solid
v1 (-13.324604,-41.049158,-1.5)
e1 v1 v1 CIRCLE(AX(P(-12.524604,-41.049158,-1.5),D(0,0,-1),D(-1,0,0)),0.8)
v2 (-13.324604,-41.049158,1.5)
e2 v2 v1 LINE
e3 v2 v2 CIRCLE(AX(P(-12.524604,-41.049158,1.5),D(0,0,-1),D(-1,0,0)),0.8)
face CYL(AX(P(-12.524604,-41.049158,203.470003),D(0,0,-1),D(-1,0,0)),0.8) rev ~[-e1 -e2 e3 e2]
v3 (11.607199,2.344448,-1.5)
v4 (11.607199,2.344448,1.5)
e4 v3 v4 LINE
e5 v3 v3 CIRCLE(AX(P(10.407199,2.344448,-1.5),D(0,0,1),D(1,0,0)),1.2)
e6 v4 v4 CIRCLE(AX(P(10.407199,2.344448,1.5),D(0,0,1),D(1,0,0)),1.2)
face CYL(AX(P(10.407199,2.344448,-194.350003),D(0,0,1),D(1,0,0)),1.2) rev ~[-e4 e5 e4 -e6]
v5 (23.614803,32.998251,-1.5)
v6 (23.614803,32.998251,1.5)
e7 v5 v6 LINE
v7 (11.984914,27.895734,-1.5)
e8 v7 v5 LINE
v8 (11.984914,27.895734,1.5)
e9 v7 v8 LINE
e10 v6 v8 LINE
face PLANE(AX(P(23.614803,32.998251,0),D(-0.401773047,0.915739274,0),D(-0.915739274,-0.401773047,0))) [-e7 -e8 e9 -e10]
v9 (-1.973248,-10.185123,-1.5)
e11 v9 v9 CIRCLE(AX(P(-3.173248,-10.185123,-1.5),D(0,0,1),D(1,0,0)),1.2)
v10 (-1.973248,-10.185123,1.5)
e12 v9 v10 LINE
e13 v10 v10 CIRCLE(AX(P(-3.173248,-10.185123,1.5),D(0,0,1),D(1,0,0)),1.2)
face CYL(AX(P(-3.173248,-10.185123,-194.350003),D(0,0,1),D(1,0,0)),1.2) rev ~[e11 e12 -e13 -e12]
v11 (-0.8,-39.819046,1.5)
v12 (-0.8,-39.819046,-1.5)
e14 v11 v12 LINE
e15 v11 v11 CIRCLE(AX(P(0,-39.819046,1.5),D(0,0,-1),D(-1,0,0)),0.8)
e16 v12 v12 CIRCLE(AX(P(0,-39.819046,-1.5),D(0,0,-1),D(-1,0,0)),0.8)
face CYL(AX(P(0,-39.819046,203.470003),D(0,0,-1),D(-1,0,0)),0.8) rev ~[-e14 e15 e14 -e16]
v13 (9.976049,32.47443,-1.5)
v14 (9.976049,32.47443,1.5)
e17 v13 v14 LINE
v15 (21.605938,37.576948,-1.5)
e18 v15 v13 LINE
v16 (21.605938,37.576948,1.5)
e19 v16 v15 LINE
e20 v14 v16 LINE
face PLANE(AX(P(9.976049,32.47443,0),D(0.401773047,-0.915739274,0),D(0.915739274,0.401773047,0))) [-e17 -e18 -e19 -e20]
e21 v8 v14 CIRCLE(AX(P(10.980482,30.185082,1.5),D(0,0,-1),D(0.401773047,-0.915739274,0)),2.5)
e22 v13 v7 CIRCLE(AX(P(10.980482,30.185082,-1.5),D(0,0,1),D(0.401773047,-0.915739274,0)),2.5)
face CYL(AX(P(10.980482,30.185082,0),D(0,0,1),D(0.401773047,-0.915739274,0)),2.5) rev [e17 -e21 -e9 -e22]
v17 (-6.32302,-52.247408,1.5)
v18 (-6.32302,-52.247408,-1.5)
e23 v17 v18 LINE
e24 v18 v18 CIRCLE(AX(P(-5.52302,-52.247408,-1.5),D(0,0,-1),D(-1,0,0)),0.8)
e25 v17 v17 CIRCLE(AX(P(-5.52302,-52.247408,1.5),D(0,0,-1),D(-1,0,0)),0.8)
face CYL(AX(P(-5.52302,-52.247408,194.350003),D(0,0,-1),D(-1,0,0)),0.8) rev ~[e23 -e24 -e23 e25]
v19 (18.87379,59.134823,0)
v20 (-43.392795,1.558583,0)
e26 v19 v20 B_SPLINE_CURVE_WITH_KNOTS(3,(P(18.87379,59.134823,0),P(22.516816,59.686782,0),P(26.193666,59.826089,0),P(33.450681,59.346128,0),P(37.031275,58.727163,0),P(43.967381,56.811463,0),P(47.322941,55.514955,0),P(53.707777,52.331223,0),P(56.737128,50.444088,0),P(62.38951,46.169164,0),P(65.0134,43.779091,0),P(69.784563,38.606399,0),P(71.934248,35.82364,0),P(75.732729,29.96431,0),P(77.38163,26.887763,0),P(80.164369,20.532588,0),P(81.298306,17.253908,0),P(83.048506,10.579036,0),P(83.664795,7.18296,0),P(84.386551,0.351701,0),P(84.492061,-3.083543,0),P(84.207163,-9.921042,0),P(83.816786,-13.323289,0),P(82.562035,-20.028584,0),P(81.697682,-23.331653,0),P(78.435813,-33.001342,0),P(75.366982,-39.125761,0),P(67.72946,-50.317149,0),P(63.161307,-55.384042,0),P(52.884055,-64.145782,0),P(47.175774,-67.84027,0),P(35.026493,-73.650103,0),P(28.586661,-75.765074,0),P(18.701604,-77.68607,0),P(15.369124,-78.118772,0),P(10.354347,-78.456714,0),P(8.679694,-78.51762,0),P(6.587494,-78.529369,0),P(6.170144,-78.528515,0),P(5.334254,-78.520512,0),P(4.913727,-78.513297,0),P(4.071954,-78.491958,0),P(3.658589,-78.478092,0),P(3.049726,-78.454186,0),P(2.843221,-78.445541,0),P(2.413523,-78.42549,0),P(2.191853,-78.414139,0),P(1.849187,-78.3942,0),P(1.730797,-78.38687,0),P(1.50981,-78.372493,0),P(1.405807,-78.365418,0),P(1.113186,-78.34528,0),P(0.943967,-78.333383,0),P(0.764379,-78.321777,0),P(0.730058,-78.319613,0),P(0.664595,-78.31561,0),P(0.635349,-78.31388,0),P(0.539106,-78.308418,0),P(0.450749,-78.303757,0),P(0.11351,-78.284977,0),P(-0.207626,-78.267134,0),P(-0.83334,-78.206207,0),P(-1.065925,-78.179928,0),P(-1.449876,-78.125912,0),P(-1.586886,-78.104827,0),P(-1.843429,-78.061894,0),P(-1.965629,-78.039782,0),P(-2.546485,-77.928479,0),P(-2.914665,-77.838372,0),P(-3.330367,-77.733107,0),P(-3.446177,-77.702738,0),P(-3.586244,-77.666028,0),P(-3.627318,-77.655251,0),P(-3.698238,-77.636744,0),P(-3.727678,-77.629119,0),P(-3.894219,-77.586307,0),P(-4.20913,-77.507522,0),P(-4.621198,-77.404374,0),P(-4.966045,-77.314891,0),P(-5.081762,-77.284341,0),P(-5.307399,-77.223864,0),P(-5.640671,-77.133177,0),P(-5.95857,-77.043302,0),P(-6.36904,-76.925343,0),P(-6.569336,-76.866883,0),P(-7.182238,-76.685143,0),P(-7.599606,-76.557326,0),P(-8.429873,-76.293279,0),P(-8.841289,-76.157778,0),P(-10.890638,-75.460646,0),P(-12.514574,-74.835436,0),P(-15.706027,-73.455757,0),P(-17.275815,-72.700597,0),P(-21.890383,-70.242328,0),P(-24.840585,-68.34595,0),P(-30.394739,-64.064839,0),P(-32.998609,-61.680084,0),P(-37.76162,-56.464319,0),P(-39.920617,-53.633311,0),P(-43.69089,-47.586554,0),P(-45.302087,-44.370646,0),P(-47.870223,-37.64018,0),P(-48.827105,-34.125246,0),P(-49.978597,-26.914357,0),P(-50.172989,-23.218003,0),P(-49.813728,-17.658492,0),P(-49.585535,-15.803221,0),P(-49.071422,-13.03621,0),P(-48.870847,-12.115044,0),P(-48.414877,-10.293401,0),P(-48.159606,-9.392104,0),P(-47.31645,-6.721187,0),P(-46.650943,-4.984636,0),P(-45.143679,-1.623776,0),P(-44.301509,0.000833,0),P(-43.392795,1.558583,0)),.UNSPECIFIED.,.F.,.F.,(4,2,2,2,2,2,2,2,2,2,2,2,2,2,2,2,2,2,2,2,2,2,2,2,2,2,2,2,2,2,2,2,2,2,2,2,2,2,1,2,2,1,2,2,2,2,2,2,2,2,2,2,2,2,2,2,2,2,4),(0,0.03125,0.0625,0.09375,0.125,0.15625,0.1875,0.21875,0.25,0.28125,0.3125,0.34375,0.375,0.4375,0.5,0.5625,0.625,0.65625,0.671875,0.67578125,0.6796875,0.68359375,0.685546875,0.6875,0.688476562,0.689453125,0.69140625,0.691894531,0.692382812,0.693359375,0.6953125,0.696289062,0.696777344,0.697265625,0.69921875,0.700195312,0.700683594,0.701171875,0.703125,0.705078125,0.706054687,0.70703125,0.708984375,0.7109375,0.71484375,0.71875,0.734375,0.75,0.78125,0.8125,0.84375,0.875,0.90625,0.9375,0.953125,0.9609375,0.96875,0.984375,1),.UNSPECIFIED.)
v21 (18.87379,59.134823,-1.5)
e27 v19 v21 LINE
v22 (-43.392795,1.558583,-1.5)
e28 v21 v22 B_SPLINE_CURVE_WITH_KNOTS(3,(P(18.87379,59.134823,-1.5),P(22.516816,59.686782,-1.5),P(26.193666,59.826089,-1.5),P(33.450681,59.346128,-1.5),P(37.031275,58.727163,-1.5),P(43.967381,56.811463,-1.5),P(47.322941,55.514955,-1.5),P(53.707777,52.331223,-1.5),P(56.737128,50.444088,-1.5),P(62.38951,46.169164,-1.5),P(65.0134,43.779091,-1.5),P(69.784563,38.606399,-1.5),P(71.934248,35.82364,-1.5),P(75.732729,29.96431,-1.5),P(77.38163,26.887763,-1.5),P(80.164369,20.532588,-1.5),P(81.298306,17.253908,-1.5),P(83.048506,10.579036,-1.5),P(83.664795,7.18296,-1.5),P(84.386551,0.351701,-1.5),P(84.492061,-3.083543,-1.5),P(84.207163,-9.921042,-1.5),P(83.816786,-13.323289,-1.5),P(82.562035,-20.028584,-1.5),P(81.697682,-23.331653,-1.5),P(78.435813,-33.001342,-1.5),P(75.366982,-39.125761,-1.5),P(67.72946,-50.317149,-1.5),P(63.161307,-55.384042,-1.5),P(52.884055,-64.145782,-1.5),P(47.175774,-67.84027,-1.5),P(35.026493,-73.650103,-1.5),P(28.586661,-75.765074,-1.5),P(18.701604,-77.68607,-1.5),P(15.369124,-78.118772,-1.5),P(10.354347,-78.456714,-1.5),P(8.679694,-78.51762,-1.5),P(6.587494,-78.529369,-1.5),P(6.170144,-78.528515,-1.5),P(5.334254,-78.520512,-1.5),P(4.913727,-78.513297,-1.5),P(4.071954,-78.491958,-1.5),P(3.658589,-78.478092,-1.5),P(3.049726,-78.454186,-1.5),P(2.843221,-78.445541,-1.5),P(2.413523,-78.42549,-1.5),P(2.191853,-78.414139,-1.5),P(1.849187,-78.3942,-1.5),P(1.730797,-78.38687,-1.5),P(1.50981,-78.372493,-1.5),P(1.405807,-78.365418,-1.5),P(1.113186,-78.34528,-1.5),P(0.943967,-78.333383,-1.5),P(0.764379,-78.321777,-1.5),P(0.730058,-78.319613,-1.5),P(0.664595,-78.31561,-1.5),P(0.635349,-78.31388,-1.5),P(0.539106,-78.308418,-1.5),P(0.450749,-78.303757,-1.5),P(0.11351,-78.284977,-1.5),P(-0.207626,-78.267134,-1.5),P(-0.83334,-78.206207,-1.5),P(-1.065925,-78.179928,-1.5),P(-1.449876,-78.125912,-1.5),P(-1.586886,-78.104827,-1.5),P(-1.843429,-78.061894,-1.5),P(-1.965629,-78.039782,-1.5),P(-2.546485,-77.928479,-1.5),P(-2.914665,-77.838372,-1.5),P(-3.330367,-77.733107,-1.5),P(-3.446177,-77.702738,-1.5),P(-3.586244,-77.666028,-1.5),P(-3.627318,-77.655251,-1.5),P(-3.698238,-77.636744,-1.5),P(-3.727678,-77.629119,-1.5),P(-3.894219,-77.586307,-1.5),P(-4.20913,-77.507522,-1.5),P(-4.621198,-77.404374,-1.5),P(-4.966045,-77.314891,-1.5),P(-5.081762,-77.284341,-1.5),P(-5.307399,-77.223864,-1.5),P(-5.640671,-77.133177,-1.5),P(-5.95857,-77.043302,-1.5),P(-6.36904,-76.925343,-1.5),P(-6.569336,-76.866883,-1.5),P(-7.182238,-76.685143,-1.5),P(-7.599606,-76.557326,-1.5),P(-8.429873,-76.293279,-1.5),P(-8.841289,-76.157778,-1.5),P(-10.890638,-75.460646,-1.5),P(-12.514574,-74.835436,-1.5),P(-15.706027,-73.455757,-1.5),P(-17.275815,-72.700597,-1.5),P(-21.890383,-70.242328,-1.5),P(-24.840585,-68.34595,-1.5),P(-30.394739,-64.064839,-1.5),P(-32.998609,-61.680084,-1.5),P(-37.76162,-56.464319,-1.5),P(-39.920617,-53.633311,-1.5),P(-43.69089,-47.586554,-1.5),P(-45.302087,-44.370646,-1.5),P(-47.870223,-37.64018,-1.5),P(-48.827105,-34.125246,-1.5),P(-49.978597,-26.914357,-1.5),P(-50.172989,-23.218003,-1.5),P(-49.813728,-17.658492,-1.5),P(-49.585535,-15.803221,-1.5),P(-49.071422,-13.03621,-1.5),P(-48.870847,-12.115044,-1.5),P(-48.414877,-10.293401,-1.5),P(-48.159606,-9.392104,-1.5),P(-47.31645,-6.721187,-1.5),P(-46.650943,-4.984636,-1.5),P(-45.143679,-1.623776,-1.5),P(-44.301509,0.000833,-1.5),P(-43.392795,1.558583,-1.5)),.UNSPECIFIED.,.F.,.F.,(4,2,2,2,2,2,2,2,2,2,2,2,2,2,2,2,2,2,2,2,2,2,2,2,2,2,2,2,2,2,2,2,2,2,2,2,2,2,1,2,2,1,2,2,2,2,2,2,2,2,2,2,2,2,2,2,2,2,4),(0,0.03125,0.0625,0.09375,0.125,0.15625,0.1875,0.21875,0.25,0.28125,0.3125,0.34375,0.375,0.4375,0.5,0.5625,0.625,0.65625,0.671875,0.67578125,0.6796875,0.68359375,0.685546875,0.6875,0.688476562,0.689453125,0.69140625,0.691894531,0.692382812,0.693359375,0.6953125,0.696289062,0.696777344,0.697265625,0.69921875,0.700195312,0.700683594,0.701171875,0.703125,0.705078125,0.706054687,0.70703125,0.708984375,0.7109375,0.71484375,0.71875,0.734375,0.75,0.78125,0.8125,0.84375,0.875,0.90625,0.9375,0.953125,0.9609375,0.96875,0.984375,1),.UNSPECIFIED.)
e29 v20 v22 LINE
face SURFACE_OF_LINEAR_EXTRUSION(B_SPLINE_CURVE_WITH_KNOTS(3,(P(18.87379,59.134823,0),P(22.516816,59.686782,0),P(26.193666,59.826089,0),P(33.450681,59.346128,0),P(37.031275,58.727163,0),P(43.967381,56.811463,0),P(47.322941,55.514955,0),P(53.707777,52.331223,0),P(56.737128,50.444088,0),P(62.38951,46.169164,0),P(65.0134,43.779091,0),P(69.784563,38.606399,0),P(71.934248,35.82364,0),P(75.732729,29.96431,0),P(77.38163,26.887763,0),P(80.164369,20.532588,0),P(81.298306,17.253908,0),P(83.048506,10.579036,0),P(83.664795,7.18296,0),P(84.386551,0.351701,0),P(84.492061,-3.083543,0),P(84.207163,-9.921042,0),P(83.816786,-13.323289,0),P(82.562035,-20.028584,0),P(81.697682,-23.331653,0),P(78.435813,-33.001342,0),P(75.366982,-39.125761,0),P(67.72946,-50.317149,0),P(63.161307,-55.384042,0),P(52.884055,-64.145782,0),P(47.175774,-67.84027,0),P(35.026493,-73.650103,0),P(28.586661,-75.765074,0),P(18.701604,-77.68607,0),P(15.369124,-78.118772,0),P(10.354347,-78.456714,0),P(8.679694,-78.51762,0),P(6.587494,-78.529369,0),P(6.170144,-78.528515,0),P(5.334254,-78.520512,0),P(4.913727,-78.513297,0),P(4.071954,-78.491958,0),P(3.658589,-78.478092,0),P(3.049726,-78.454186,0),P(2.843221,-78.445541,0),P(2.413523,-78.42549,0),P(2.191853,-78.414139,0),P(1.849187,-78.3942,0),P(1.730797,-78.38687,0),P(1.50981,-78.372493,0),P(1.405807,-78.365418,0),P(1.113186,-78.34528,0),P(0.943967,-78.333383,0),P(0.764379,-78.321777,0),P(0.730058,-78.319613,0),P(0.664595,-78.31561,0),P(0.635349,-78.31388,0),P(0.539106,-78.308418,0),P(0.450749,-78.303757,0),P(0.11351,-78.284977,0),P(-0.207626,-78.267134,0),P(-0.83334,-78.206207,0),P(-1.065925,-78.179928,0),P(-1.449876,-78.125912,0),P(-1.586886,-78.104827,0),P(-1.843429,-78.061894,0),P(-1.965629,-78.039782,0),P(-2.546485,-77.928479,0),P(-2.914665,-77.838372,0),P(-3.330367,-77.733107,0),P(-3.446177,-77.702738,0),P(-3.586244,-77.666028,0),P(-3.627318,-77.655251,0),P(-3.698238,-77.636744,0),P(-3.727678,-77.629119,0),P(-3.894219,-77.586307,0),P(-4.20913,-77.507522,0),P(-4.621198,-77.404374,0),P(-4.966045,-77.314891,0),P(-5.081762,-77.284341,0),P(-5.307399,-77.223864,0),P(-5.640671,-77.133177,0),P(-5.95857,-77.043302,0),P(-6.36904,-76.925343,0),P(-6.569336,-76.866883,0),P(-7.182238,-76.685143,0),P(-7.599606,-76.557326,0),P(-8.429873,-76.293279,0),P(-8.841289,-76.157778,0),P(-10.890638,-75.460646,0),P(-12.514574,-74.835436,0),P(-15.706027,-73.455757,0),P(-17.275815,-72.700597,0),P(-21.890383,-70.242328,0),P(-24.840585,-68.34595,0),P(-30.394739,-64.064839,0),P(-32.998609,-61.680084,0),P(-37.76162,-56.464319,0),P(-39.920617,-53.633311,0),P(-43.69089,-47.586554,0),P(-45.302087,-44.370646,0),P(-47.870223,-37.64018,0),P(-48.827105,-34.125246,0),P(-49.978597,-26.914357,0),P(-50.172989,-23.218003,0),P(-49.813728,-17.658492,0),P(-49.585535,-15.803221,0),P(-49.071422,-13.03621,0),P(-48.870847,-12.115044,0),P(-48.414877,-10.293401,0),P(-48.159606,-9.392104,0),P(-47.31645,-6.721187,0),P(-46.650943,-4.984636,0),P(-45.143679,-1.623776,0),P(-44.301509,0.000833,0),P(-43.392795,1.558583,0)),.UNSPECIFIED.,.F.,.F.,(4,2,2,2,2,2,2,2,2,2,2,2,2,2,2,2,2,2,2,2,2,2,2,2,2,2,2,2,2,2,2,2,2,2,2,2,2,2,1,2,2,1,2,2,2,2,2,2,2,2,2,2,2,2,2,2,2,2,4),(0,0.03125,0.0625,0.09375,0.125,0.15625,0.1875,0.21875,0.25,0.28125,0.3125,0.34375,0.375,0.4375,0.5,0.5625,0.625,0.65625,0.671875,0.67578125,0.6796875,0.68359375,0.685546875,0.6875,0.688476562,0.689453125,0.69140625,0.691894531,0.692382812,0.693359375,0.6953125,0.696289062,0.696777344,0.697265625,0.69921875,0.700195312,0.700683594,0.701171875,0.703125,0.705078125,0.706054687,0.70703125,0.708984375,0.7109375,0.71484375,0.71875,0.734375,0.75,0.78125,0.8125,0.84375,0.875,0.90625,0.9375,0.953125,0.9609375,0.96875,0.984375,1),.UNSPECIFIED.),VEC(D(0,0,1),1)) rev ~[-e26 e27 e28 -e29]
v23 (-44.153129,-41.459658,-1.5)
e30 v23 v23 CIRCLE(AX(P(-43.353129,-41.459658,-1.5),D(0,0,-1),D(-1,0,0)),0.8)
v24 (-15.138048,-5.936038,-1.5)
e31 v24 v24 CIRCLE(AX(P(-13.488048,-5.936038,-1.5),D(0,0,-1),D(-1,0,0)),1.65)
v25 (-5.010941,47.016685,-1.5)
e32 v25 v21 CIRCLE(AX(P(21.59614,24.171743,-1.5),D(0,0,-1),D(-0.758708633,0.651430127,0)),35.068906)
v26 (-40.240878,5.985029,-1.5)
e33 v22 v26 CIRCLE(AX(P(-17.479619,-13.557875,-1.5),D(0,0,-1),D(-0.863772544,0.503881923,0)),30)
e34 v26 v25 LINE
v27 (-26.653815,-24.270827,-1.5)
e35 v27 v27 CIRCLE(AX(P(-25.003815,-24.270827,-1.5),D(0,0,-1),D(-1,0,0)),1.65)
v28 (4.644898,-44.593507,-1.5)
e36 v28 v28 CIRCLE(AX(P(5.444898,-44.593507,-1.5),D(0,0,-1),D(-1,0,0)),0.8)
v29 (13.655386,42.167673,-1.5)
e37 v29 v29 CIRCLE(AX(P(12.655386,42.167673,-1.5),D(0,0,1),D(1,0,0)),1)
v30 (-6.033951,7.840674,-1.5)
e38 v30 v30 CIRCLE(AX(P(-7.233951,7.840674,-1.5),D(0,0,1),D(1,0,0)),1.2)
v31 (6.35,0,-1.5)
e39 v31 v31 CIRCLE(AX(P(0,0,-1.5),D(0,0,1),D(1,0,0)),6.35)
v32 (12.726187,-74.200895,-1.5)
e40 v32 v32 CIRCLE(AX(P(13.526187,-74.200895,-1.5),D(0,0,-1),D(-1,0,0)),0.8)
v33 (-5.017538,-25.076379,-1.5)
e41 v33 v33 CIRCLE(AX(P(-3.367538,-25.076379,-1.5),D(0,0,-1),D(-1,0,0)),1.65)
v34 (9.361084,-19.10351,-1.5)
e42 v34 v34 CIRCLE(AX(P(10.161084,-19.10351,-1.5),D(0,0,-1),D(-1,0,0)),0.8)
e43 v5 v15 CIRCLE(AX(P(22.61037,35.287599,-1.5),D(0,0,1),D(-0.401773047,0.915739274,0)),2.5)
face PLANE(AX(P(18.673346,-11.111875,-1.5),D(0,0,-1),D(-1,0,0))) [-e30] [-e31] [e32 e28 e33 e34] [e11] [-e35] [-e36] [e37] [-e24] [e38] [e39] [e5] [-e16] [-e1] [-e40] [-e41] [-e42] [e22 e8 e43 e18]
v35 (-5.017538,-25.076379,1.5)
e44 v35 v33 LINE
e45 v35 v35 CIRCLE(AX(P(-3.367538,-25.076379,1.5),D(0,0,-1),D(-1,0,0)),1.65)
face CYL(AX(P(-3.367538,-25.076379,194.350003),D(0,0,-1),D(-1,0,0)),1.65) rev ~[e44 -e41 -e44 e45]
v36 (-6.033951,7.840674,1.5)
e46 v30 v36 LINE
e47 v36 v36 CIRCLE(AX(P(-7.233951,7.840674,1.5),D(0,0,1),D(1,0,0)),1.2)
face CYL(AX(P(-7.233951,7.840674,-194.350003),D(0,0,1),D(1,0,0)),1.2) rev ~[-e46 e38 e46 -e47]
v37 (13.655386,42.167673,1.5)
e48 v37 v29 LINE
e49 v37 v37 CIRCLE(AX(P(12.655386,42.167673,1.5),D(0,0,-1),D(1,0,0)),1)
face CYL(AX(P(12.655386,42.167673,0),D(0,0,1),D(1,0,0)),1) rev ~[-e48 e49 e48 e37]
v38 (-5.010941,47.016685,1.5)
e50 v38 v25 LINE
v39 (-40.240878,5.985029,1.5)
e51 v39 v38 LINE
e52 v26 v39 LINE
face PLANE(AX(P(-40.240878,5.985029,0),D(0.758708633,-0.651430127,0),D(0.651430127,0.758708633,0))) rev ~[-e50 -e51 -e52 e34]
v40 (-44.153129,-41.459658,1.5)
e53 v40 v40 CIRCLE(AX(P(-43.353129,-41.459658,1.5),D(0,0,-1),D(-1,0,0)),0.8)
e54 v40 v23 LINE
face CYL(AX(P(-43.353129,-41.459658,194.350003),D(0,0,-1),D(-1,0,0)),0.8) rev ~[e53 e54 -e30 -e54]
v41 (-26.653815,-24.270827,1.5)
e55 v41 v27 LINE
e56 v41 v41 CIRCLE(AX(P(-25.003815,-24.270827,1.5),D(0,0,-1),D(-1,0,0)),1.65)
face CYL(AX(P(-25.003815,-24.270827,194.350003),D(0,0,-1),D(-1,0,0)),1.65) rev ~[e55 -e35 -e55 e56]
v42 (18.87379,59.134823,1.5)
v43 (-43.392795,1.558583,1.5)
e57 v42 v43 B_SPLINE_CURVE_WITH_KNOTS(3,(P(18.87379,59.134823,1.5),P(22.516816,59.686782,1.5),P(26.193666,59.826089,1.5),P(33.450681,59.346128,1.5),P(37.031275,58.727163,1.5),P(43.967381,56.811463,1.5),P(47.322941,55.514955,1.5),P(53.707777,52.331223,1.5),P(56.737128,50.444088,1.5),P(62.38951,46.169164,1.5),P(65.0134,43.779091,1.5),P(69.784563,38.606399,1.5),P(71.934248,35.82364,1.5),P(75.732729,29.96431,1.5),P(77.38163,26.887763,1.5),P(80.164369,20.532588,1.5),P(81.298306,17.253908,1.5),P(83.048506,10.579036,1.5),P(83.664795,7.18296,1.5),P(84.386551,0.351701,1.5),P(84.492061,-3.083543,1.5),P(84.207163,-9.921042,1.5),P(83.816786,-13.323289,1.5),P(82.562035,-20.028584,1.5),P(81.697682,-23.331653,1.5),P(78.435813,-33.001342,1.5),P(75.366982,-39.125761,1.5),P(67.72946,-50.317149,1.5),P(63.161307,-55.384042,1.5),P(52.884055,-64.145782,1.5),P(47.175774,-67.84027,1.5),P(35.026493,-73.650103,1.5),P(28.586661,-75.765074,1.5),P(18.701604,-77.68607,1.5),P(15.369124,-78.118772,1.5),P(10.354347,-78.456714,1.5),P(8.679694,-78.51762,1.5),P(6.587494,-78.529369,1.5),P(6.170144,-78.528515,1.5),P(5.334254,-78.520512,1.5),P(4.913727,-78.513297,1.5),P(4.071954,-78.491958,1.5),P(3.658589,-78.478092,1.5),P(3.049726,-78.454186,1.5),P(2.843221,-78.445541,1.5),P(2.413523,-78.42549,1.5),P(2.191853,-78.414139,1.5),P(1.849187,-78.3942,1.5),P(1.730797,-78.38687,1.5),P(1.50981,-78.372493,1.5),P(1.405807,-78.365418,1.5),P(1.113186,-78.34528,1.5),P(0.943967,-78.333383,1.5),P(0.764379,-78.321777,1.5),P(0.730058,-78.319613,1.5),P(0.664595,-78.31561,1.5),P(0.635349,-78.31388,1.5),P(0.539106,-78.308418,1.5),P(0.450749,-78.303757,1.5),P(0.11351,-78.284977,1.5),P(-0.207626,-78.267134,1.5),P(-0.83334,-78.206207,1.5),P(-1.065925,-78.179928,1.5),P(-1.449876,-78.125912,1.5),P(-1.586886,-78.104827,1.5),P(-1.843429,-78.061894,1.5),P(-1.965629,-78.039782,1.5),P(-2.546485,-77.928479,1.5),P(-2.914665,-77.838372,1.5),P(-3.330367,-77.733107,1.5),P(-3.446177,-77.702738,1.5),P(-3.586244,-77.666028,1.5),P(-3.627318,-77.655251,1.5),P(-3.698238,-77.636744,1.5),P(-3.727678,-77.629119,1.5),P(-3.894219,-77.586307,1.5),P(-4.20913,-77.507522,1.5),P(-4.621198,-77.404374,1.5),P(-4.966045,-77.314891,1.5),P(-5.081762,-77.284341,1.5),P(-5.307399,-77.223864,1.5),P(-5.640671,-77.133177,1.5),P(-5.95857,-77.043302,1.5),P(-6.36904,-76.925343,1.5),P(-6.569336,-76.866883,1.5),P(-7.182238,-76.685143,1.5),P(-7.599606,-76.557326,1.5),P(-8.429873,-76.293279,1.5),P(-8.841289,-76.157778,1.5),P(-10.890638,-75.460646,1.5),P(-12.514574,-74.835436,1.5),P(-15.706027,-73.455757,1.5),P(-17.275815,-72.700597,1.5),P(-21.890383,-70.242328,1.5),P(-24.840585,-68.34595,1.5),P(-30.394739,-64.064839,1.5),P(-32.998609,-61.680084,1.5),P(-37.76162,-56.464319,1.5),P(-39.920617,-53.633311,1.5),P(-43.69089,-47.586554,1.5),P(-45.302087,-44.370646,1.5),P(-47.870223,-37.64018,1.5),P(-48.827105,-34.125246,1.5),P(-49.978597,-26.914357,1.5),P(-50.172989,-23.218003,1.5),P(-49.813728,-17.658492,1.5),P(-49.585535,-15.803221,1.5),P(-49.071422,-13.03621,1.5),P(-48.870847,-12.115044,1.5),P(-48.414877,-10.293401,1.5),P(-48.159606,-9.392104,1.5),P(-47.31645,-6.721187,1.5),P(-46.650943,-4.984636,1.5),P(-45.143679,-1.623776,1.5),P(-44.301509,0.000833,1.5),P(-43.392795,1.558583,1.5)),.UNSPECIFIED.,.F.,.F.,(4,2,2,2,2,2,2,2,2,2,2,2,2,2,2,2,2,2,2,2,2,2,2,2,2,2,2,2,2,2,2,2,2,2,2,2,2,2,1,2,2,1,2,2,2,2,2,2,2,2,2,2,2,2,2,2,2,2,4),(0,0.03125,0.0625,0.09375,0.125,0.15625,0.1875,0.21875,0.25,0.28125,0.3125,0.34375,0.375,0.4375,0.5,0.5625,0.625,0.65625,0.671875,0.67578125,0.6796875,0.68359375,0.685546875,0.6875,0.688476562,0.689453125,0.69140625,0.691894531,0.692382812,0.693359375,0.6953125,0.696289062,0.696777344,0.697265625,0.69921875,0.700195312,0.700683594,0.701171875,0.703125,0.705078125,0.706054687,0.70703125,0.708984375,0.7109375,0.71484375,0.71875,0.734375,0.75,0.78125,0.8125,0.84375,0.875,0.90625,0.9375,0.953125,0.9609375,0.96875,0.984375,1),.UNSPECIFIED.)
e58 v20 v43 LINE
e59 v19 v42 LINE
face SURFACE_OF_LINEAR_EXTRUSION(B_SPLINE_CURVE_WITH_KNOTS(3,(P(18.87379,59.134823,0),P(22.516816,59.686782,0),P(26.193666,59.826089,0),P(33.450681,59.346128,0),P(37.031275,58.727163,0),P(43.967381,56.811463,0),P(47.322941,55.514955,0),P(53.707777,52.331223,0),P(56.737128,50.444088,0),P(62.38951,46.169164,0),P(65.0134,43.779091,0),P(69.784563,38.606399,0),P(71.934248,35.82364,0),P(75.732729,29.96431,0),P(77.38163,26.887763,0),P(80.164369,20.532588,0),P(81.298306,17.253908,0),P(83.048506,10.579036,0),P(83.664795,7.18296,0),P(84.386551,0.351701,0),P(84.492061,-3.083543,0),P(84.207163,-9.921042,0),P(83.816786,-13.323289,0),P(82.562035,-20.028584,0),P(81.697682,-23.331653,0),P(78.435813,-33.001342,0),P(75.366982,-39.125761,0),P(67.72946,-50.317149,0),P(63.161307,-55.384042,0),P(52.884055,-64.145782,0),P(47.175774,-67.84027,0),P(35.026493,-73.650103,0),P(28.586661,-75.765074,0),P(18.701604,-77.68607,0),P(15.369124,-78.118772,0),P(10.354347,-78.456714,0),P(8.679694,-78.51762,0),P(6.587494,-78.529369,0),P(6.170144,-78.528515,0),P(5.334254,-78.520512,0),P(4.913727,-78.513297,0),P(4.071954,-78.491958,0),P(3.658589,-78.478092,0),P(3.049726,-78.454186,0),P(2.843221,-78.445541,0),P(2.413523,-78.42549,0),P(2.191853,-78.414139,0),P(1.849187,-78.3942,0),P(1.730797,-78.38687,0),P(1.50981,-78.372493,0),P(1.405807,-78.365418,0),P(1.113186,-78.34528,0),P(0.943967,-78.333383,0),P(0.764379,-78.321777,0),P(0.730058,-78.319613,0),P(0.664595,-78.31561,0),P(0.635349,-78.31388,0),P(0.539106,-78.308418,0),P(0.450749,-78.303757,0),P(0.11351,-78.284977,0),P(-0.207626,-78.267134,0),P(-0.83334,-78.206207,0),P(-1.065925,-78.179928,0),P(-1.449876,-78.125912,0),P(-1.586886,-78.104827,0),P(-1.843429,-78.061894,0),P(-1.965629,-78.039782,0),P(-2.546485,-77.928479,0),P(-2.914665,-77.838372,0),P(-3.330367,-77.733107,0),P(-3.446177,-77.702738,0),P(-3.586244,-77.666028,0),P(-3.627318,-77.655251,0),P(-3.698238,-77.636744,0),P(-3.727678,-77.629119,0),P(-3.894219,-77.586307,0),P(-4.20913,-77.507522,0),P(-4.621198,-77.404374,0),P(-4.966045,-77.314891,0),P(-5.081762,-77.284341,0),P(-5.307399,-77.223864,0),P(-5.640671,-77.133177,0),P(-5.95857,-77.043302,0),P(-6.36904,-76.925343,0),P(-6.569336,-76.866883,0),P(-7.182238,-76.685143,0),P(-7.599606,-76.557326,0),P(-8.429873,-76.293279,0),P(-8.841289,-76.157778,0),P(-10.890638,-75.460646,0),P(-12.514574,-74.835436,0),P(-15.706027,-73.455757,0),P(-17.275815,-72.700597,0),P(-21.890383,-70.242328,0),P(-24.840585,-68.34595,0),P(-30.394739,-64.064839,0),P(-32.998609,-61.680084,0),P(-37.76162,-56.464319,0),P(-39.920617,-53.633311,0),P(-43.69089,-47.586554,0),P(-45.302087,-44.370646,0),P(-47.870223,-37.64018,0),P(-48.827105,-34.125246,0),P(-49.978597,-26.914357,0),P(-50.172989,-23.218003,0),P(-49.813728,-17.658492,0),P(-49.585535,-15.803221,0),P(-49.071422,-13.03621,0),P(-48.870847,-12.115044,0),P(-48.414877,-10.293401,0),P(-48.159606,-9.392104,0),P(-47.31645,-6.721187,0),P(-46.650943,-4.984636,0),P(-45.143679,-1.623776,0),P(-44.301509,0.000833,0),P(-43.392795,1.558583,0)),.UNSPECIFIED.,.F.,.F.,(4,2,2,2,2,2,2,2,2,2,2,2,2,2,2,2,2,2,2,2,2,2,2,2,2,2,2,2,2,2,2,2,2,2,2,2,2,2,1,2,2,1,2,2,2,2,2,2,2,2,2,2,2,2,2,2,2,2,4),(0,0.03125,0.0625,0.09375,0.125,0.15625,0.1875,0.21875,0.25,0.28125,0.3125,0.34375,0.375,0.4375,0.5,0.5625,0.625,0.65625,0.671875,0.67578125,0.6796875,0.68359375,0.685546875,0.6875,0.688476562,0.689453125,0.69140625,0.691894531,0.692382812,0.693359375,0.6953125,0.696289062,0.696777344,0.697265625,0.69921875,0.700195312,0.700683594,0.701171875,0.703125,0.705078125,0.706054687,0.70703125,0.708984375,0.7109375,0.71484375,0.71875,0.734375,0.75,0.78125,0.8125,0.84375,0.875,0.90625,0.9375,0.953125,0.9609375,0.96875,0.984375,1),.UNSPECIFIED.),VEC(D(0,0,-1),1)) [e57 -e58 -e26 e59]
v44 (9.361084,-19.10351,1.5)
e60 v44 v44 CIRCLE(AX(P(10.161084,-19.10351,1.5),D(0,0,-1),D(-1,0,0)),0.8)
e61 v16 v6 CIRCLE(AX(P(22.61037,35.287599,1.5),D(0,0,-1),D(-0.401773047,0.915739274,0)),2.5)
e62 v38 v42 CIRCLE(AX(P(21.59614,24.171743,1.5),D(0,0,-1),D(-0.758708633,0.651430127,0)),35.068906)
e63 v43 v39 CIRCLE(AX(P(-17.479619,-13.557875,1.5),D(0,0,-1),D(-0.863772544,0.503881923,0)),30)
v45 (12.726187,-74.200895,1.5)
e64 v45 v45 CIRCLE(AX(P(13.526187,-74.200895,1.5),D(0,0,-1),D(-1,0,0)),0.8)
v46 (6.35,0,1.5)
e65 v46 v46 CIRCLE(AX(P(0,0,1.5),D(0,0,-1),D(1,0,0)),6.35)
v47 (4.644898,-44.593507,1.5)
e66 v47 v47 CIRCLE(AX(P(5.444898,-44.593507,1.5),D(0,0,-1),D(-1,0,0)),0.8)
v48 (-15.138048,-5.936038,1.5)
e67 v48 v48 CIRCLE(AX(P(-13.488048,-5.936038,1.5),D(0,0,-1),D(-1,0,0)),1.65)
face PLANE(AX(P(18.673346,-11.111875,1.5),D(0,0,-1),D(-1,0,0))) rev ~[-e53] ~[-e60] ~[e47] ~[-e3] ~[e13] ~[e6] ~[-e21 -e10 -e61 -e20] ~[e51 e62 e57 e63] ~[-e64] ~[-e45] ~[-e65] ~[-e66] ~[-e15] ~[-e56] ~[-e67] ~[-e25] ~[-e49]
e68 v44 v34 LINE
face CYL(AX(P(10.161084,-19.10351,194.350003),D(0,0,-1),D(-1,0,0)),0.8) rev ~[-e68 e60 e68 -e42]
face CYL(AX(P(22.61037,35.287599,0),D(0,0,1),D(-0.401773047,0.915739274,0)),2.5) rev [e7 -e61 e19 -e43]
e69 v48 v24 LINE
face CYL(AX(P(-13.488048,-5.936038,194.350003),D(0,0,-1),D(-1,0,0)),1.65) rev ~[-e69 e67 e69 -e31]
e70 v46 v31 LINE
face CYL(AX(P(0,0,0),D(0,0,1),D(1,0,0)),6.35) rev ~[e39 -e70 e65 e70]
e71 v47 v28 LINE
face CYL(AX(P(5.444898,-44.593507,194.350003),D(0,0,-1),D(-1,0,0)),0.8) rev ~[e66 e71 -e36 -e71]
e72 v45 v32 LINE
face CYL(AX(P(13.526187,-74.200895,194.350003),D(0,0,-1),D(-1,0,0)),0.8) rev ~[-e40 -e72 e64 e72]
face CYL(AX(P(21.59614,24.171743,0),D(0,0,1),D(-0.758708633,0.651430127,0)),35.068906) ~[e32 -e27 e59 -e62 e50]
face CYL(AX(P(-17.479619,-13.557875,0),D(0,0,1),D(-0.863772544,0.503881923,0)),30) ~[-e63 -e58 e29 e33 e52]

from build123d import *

# Parameters (mm, degrees)
SKETCH1_R                   = 6.35
BOSS_EXTRUDE1_DEPTH         = 1.5
CUT_EXTRUDE1_DEPTH          = 102.169930751
CUT_EXTRUDE1_DEPTH_BACK     = 102.169930751
FILLET1_R                   = 20
BOSS_EXTRUDE2_DEPTH         = 1.5
SKETCH7_R                   = 6.35
SKETCH7_R_2                 = 3.175
BOSS_EXTRUDE3_DEPTH         = 1.5
SKETCH8_R                   = 1
SKETCH8_R_2                 = 6.35
CUT_EXTRUDE2_DEPTH          = 116.300180911
CUT_EXTRUDE2_DEPTH_BACK     = 116.300180911
M4X0_7_TAPPED_HOLE1_D       = 3.3
M2_CLEARANCE_HOLE1_D        = 2.4
TAP_DRILL_FOR_M2X0_4_TAP1_D = 1.6
TAP_DRILL_FOR_M2X0_4_TAP2_D = 1.6


with BuildPart() as part:
    # Sketch1 → Boss-Extrude1 (new, symmetric)
    with BuildSketch(Plane.XY):
        with BuildLine():
            ThreePointArc((11.984914181, 27.895733584), (8.691133377, 29.180649151), (9.976048944, 32.474429955))
            Line((9.976048944, 32.474429955), (12.234616167, 33.46535768))
            ThreePointArc((12.234616167, 33.46535768), (8.26006825, 34.969173712), (5.615201844, 38.295308932))
            Line((5.615201844, 38.295308932), (3.856119442, 42.419673356))
            add(Edge.make_bspline(
                [(3.856119442, 42.419673356), (3.804269194, 42.380475154), (3.486745937, 42.138972836), (2.912619563, 41.685826384), (2.149082762, 41.044776761), (1.408732666, 40.385653153), (0.69201842, 39.710962437), (-0.000702823, 39.023274092), (-0.669224606, 38.325164066), (-1.313490613, 37.619209289), (-1.933594741, 36.907981167), (-2.529780734, 36.194039342), (-3.102441662, 35.479925366), (-3.652119172, 34.768156406), (-4.179502537, 34.061218936), (-4.68542751, 33.361562432), (-5.170874981, 32.671593072), (-5.636969475, 31.993667421), (-6.084977486, 31.330086125), (-6.5163057, 30.68308757), (-6.932499191, 30.054841594), (-7.335239472, 29.447442991), (-7.726343211, 28.862905788), (-8.107759261, 28.30315506), (-8.481572996, 27.770028153), (-8.850055929, 27.265150233), (-9.21599154, 26.789707359), (-9.58007402, 26.342396401), (-9.943199031, 25.921274986), (-10.306211946, 25.524302901), (-10.669815304, 25.149428396), (-11.03457423, 24.794597749), (-11.400917427, 24.457759077), (-11.769139802, 24.136868148), (-12.139404915, 23.829894257), (-12.511747444, 23.534826559), (-12.886075425, 23.249680558), (-13.262172288, 22.972504592), (-13.639698706, 22.701386132), (-14.018194373, 22.4344578), (-14.397079826, 22.169903041), (-14.775658393, 21.905961469), (-15.153118349, 21.640933911), (-15.528535328, 21.37318718), (-15.900874865, 21.101158728), (-16.268995598, 20.823360748), (-16.631651048, 20.538385549), (-16.987497448, 20.244905703), (-17.335071725, 19.941700072), (-17.674482118, 19.629485326), (-18.005889299, 19.308945872), (-18.329486913, 18.98074786), (-18.645506177, 18.6455329), (-18.954213469, 18.303917657), (-19.255909475, 17.956492143), (-19.550927855, 17.603818409), (-19.839633983, 17.246429189), (-20.122423608, 16.884826615), (-20.39972148, 16.519480973), (-20.671979932, 16.15082951), (-20.93967742, 15.77927529), (-21.203317027, 15.405186109), (-21.463424922, 15.028893458), (-21.720548787, 14.650691546), (-21.975256201, 14.270836377), (-22.228133, 13.889544888), (-22.479781587, 13.506994147), (-22.730819224, 13.123320602), (-22.981876279, 12.738619403), (-23.233594452, 12.35294377), (-23.486624965, 11.966304432), (-23.741626724, 11.578669117), (-23.999264462, 11.189962103), (-24.260206854, 10.800063825), (-24.52512461, 10.408810538), (-24.794688561, 10.015994037), (-25.069567717, 9.621361426), (-25.350427363, 9.224614974), (-25.637926993, 8.8254119), (-25.932718851, 8.423364715), (-26.235444149, 8.018039723), (-26.546738212, 7.608962846), (-26.867193334, 7.195608336), (-27.197393741, 6.777566684), (-27.537037782, 6.353934602), (-27.885559202, 5.923803469), (-28.242374703, 5.486366009), (-28.606855737, 5.040842301), (-28.978345064, 4.586492757), (-29.356154138, 4.122615768), (-29.739565815, 3.648549546), (-30.127835637, 3.163672741), (-30.520193566, 2.667405334), (-30.915845631, 2.159209384), (-31.313975642, 1.638589743), (-31.713746908, 1.10509472), (-32.114303997, 0.558316687), (-32.514774496, -0.002107372), (-32.914270801, -0.576495363), (-33.311891916, -1.165119646), (-33.70672526, -1.768206653), (-34.097848491, -2.385936568), (-34.484331334, -3.01844306), (-34.865237414, -3.665813085), (-35.239626095, -4.328086735), (-35.606554319, -5.00525716), (-35.965078448, -5.697270543), (-36.314256102, -6.404026134), (-36.653147994, -7.125376348), (-36.98081976, -7.861126926), (-37.296343783, -8.611037148), (-37.598801011, -9.374820113), (-37.887282738, -10.15214308), (-38.160892488, -10.942627847), (-38.418747446, -11.745851279), (-38.659981522, -12.561345551), (-38.883742182, -13.388599746), (-39.089211497, -14.227059816), (-39.27554787, -15.076191303), (-39.442240692, -15.935443066), (-39.58900499, -16.804297383), (-39.715531283, -17.682274795), (-39.821534024, -18.56888584), (-39.906736403, -19.463633732), (-39.970874682, -20.366013757), (-40.01369729, -21.27551381), (-40.034965324, -22.191614638), (-40.034452659, -23.113790166), (-40.011946156, -24.041507803), (-39.967245835, -24.974228766), (-39.900165044, -25.911408403), (-39.810530622, -26.852496518), (-39.698183052, -27.796937709), (-39.56297661, -28.744171699), (-39.4047795, -29.693633681), (-39.223473982, -30.64475466), (-39.018956498, -31.596961802), (-38.791137779, -32.549678783), (-38.539942955, -33.502326148), (-38.265311644, -34.454321664), (-37.967198044, -35.405080681), (-37.645571006, -36.354016496), (-37.300414107, -37.300540716), (-36.931725709, -38.244063627), (-36.539519007, -39.18399456), (-36.123822074, -40.119742265), (-35.684677893, -41.050715279), (-35.222144381, -41.976322302), (-34.736294403, -42.89597257), (-34.227215775, -43.809076229), (-33.695011264, -44.715044715), (-33.139798572, -45.613291121), (-32.561710315, -46.503230581), (-31.960893988, -47.384280643), (-31.337511928, -48.255861642), (-30.69174126, -49.117397078), (-30.023773839, -49.96831399), (-29.333816181, -50.808043326), (-28.622089382, -51.636020317), (-27.888829033, -52.451684847), (-27.134285123, -53.25448182), (-26.358721931, -54.04386153), (-25.562417912, -54.819280022), (-24.745665571, -55.580199454), (-23.908771332, -56.326088459), (-23.052055394, -57.0564225), (-22.175851579, -57.770684224), (-21.280507172, -58.468363812), (-20.366382752, -59.148959324), (-19.433852012, -59.811977048), (-18.483301577, -60.456931829), (-17.515130802, -61.083347415), (-16.529751575, -61.690756781), (-15.527588097, -62.278702456), (-14.50907667, -62.846736843), (-13.474665463, -63.39442255), (-12.424814268, -63.921332635), (-11.359994294, -64.427051169), (-10.280687768, -64.911172569), (-9.187388219, -65.373305515), (-8.080598179, -65.813059652), (-6.960836498, -66.230096831), (-5.828609627, -66.623940268), (-4.684517934, -66.994691537), (-3.528855652, -67.340343195), (-2.3631095, -67.666856553), (-1.184338477, -67.950378607), (-0.400093515, -68.169065005), (0, -68.230921715)],
                knots=[0.595074645, 0.595074645, 0.595074645, 0.595074645, 0.59561552, 0.598394199, 0.601160164, 0.603910525, 0.606641733, 0.609350191, 0.612032273, 0.614684334, 0.617302722, 0.619883791, 0.622423916, 0.624919509, 0.627367038, 0.629763043, 0.632104166, 0.634387177, 0.636609005, 0.638766786, 0.640857908, 0.642880081, 0.644831406, 0.646710483, 0.648516525, 0.650249514, 0.65191136, 0.653508519, 0.655048349, 0.65653798, 0.657984241, 0.659393583, 0.66077201, 0.662125022, 0.663457568, 0.664774018, 0.666078151, 0.667373165, 0.668661696, 0.669945853, 0.671227263, 0.672507127, 0.673786273, 0.67506522, 0.676344239, 0.677623416, 0.678902717, 0.68018205, 0.681461324, 0.682740438, 0.684019262, 0.685297659, 0.686575488, 0.687852615, 0.689128915, 0.690404281, 0.691678632, 0.692951916, 0.694224122, 0.695495279, 0.696765474, 0.698034846, 0.699303605, 0.70057203, 0.70184048, 0.703109399, 0.704379325, 0.705650892, 0.706924838, 0.708202013, 0.709483377, 0.710770009, 0.712063109, 0.713363997, 0.714674119, 0.715995039, 0.717328447, 0.718676146, 0.720040056, 0.721422204, 0.722824718, 0.724249822, 0.725699824, 0.727177002, 0.72868281, 0.730218172, 0.731783831, 0.733380363, 0.735008197, 0.736667628, 0.738358831, 0.740081872, 0.741836722, 0.743623264, 0.745441305, 0.747290584, 0.749170776, 0.751081502, 0.753022336, 0.754992805, 0.756992401, 0.759020578, 0.761076761, 0.763160347, 0.76527071, 0.767407202, 0.769569155, 0.771755887, 0.7739667, 0.776200882, 0.778457713, 0.780736462, 0.783036392, 0.785356757, 0.787696808, 0.790055792, 0.792432952, 0.794827532, 0.797238799, 0.799666426, 0.802110394, 0.804570687, 0.807047284, 0.809540165, 0.812049305, 0.814574675, 0.817116246, 0.819673984, 0.822247852, 0.824837811, 0.82744382, 0.830065834, 0.832703806, 0.835357687, 0.838027424, 0.840712962, 0.843414244, 0.84613121, 0.848863798, 0.851611942, 0.854375576, 0.857154631, 0.859949033, 0.862758708, 0.865583582, 0.868423573, 0.871278601, 0.874148584, 0.877033434, 0.879933066, 0.882847387, 0.885776307, 0.888719732, 0.891677564, 0.894649707, 0.897636058, 0.900636516, 0.903650977, 0.906679333, 0.909721476, 0.912777297, 0.915846682, 0.918929518, 0.922025687, 0.925135072, 0.928257554, 0.931393009, 0.934541315, 0.937702347, 0.940875975, 0.944062073, 0.947260508, 0.950471149, 0.95369386, 0.956928506, 0.960174949, 0.96343305, 0.966702667, 0.969983657, 0.973275876, 0.976579178, 0.979893415, 0.983218438, 0.986554095, 0.989900235, 0.993256703, 0.996623344, 1, 1, 1, 1], degree=3))
            add(Edge.make_bspline(
                [(0, -68.230921715), (0.393333706, -68.291733321), (1.194961176, -68.321276753), (2.388868431, -68.414811628), (3.58891617, -68.470136134), (4.791044831, -68.510535556), (5.995946289, -68.52954927), (7.203026535, -68.528713614), (8.412027616, -68.507423129), (9.62259203, -68.465654591), (10.83437986, -68.403235569), (12.047037443, -68.320041284), (13.260205927, -68.215942066), (14.473519127, -68.090817818), (15.686604264, -67.944554476), (16.899081946, -67.777045295), (18.110566359, -67.588190842), (19.320665416, -67.377899329), (20.528980925, -67.146086849), (21.73510877, -66.892677633), (22.938639087, -66.6176043), (24.139156466, -66.320808097), (25.336240146, -66.002239142), (26.529464226, -65.661856654), (27.718397887, -65.299629187), (28.90260561, -64.915534847), (30.081647414, -64.509561514), (31.255079097, -64.081707052), (32.42245248, -63.631979515), (33.58331567, -63.160397343), (34.737213315, -62.666989561), (35.883686879, -62.151795956), (37.022274916, -61.614867262), (38.152513354, -61.056265327), (39.273935784, -60.476063279), (40.386073758, -59.87434568), (41.488457085, -59.251208675), (42.580614147, -58.606760131), (43.662072205, -57.941119771), (44.732357722, -57.254419292), (45.790996682, -56.546802486), (46.837514925, -55.81842534), (47.871438475, -55.069456136), (48.89229388, -54.300075538), (49.899608554, -53.51047667), (50.892911122, -52.700865183), (51.871731772, -51.87145932), (52.835602603, -51.022489959), (53.784057989, -50.154200657), (54.71663493, -49.26684768), (55.632873421, -48.360700021), (56.532316811, -47.436039411), (57.414512174, -46.493160317), (58.279010671, -45.532369935), (59.125367928, -44.553988165), (59.953144401, -43.558347582), (60.761905749, -42.545793391), (61.55122321, -41.516683378), (62.320673971, -40.471387842), (63.069841543, -39.410289525), (63.798316132, -38.333783527), (64.505695017, -37.242277204), (65.191582915, -36.13619007), (65.85559236, -35.015953676), (66.497344063, -33.882011479), (67.11646729, -32.734818707), (67.71260022, -31.574842209), (68.285390316, -30.402560293), (68.834494677, -29.218462553), (69.359580408, -28.023049692), (69.860324965, -26.816833323), (70.336416512, -25.60033577), (70.787554269, -24.374089852), (71.213448854, -23.13863866), (71.613822626, -21.894535318), (71.988410015, -20.642342743), (72.336957858, -19.382633384), (72.659225719, -18.115988959), (72.954986211, -16.843000179), (73.224025309, -15.564266461), (73.466142659, -14.28039563), (73.681151874, -12.992003617), (73.868880836, -11.699714142), (74.029171977, -10.404158388), (74.161882563, -9.10597467), (74.266884966, -7.805808087), (74.344066927, -6.504310174), (74.393331816, -5.202138538), (74.414598879, -3.89995649), (74.407803478, -2.598432666), (74.372897323, -1.29824064), (74.309848696, -5.853e-05), (74.218642658, 1.295431404), (74.099281259, 2.587543173), (73.95178373, 3.875587471), (73.776186663, 5.158872107), (73.572544188, 6.43670243), (73.340928136, 7.708381771), (73.081428188, 8.973211889), (72.794152019, 10.230493418), (72.47922543, 11.479526328), (72.13679246, 12.719610386), (71.767015501, 13.950045625), (71.37007539, 15.170132817), (70.946171493, 16.379173951), (70.495521777, 17.576472716), (70.018362872, 18.761334989), (69.514950114, 19.933069325), (68.985557583, 21.090987453), (68.430478125, 22.234404772), (67.850023359, 23.362640855), (67.244523678, 24.47501995), (66.614328227, 25.570871489), (65.959804877, 26.649530597), (65.281340181, 27.710338599), (64.579339317, 28.752643533), (63.85422602, 29.775800665), (63.106442497, 30.779173), (62.33644933, 31.762131799), (61.544725366, 32.724057086), (60.731767601, 33.66433818), (59.898090995, 34.582374149), (59.044228508, 35.477574541), (58.170730235, 36.349359075), (57.278166357, 37.197160694), (56.367121668, 38.020410915), (55.438270074, 38.818621759), (54.492318121, 39.591335254), (53.529982536, 40.3381068), (52.551992493, 41.058512637), (51.559087829, 41.752148676), (50.552018856, 42.418631155), (49.531545735, 43.057596786), (48.498437965, 43.668703015), (47.453473832, 44.251628246), (46.397439863, 44.806072049), (45.331130274, 45.331755356), (44.255346411, 45.828420647), (43.17089619, 46.295832116), (42.078593533, 46.733775825), (40.979257798, 47.142059848), (39.873713209, 47.520514394), (38.762788284, 47.868991924), (37.647315256, 48.187367242), (36.528129497, 48.475537585), (35.406068937, 48.733422689), (34.281973488, 48.960964845), (33.156684455, 49.158128938), (32.031043959, 49.324902476), (30.905894352, 49.461295599), (29.78207764, 49.567341079), (28.66043489, 49.643094299), (27.541805663, 49.688633226), (26.427027423, 49.704058363), (25.316934962, 49.689492689), (24.212359828, 49.645081585), (23.114129743, 49.570992746), (22.023068037, 49.46741608), (20.939993076, 49.334563587), (19.865717696, 49.172669234), (19.050939925, 49.026743912), (18.594215776, 48.936446476), (18.491236259, 48.915651329)],
                knots=[0, 0, 0, 0, 0.003319606, 0.00664483, 0.00997572, 0.013312315, 0.016654652, 0.020002764, 0.023356679, 0.026716422, 0.030082012, 0.033453467, 0.036830797, 0.040214011, 0.043603114, 0.046998106, 0.050398984, 0.05380574, 0.057218364, 0.060636841, 0.064061153, 0.067491279, 0.070927192, 0.074368865, 0.077816264, 0.081269354, 0.084728096, 0.088192446, 0.09166236, 0.095137787, 0.098618675, 0.102104968, 0.105596607, 0.10909353, 0.112595671, 0.116102963, 0.119615332, 0.123132706, 0.126655005, 0.130182149, 0.133714056, 0.137250637, 0.140791804, 0.144337465, 0.147887524, 0.151441884, 0.155000443, 0.158563099, 0.162129745, 0.165700272, 0.169274569, 0.172852522, 0.176434014, 0.180018926, 0.183607137, 0.187198521, 0.190792953, 0.194390304, 0.197990441, 0.201593231, 0.205198539, 0.208806224, 0.212416148, 0.216028167, 0.219642135, 0.223257906, 0.226875331, 0.230494258, 0.234114533, 0.237736001, 0.241358506, 0.244981886, 0.248605983, 0.252230632, 0.255855669, 0.259480928, 0.263106241, 0.266731437, 0.270356345, 0.273980794, 0.277604607, 0.281227611, 0.284849627, 0.288470478, 0.292089983, 0.295707963, 0.299324234, 0.302938615, 0.306550921, 0.310160967, 0.313768569, 0.317373538, 0.320975689, 0.324574833, 0.328170782, 0.331763348, 0.335352341, 0.338937573, 0.342518853, 0.346095993, 0.349668803, 0.353237093, 0.356800674, 0.360359359, 0.363912958, 0.367461284, 0.37100415, 0.37454137, 0.37807276, 0.381598135, 0.385117313, 0.388630113, 0.392136355, 0.395635862, 0.399128458, 0.402613969, 0.406092224, 0.409563054, 0.413026294, 0.416481778, 0.419929348, 0.423368847, 0.426800121, 0.43022302, 0.4336374, 0.437043112, 0.440439966, 0.443827754, 0.447206268, 0.450575308, 0.453934675, 0.457284173, 0.460623612, 0.463952804, 0.467271567, 0.470579721, 0.473877092, 0.477163509, 0.480438807, 0.483702825, 0.486955407, 0.490196401, 0.493425661, 0.496643048, 0.499848424, 0.50304166, 0.506222633, 0.509391223, 0.512547319, 0.515690814, 0.518821608, 0.521939609, 0.52504473, 0.528136891, 0.531216019, 0.53428205, 0.537334925, 0.540374595, 0.543401017, 0.546414157, 0.549413988, 0.550288202, 0.550288202, 0.550288202, 0.550288202], degree=3))
            Line((18.491236259, 48.915651329), (20.341962163, 44.576418519))
            ThreePointArc((20.341962163, 44.576418519), (20.922430656, 40.447066292), (19.347370503, 36.586019931))
            Line((19.347370503, 36.586019931), (21.605937727, 37.576947657))
            ThreePointArc((21.605937727, 37.576947657), (24.899718531, 36.29203209), (23.614802964, 32.998251286))
            Line((23.614802964, 32.998251286), (11.984914181, 27.895733584))
        make_face()
        Circle(SKETCH1_R, mode=Mode.SUBTRACT)
    extrude(amount=BOSS_EXTRUDE1_DEPTH, both=True)

    # Sketch2 → Cut-Extrude1 (cut, two sides)
    with BuildSketch(Plane.XY) as cut_extrude1_sk:
        Polygon((-35.700141367, -3.650772794), (-7.072677907, 43.311946145), (4.622228263, 43.311946145), (7.657062795, 40.706225638), (-41.200196706, -16.19692185), align=None)
    extrude(amount=CUT_EXTRUDE1_DEPTH, mode=Mode.SUBTRACT)
    extrude(cut_extrude1_sk.sketch, amount=-CUT_EXTRUDE1_DEPTH_BACK, mode=Mode.SUBTRACT)

    # Fillet1
    fillet1_edges = [part.edges().sort_by_distance(p)[0] for p in [
        (-38.918855467, -13.539885857, -0.7499997),
    ]]
    fillet(fillet1_edges, radius=FILLET1_R)

    # Sketch6 → Boss-Extrude2 (add, symmetric)
    with BuildSketch(Plane.XY):
        with BuildLine():
            Line((-40.240877686, 5.985028621), (-5.010941183, 47.016684781))
            ThreePointArc((-5.010941183, 47.016684781), (5.728997706, 55.445724795), (18.87378975, 59.134822925))
            add(Edge.make_bspline(
                [(18.87378975, 59.134822925), (22.516816499, 59.686781934), (26.193665623, 59.826089241), (33.45068059, 59.346128102), (37.03127521, 58.727162925), (43.967380955, 56.811462619), (47.322941455, 55.514954983), (53.707777021, 52.33122275), (56.737127918, 50.44408812), (62.389510018, 46.169164114), (65.013399799, 43.779091446), (69.784563311, 38.606399125), (71.934248393, 35.823640098), (75.732728508, 29.964309697), (77.38163003, 26.887763022), (80.164369364, 20.532587656), (81.298305727, 17.253908281), (83.048505582, 10.579036383), (83.664794752, 7.182960151), (84.3865512, 0.351701111), (84.49206067, -3.083543307), (84.207163067, -9.921041673), (83.816786418, -13.323289058), (82.562035426, -20.02858371), (81.697681537, -23.331653399), (78.43581289, -33.001341548), (75.366981688, -39.125760708), (67.729460455, -50.317148913), (63.161306968, -55.384041979), (52.884055324, -64.145782257), (47.175773764, -67.840270189), (35.026492532, -73.650102546), (28.586660871, -75.765074216), (18.701604185, -77.686070484), (15.369124025, -78.118771701), (10.354347453, -78.456714462), (8.679694279, -78.517619619), (6.587494274, -78.529369489), (6.170144087, -78.528514895), (5.334254192, -78.520512469), (4.913726597, -78.513297138), (4.071953989, -78.491958341), (3.658588776, -78.478091881), (3.049726248, -78.454186132), (2.84322124, -78.445541202), (2.413523355, -78.425490471), (2.191852793, -78.414139452), (1.849187473, -78.394199653), (1.730797282, -78.386869887), (1.509810446, -78.372493071), (1.405806762, -78.365417657), (1.113185905, -78.345280212), (0.943966862, -78.333383035), (0.764379497, -78.321776976), (0.73005815, -78.319613099), (0.664594577, -78.315610277), (0.63534896, -78.313880378), (0.539106387, -78.308417555), (0.45074868, -78.303757443), (0.113509584, -78.284976779), (-0.207625858, -78.267133918), (-0.83334031, -78.206206545), (-1.065924997, -78.179928196), (-1.449875604, -78.125911632), (-1.586886359, -78.10482735), (-1.843429138, -78.061893669), (-1.9656288, -78.039781678), (-2.546485276, -77.928478506), (-2.914665113, -77.838372208), (-3.330367332, -77.733106974), (-3.446176837, -77.702738066), (-3.586243748, -77.666027804), (-3.627318292, -77.655250883), (-3.698237511, -77.636744195), (-3.727677684, -77.629118622), (-3.894219178, -77.586307455), (-4.209129691, -77.507522483), (-4.621197785, -77.404374047), (-4.966045453, -77.314890963), (-5.081761547, -77.284340829), (-5.307399032, -77.223863613), (-5.640671054, -77.133177129), (-5.958569588, -77.043301816), (-6.3690401, -76.92534283), (-6.569336345, -76.86688301), (-7.182238051, -76.685143344), (-7.599606088, -76.557325569), (-8.429873477, -76.293278955), (-8.841288901, -76.157777564), (-10.890638145, -75.460646132), (-12.514573758, -74.835436277), (-15.706026772, -73.455756722), (-17.275815259, -72.700597027), (-21.890382607, -70.242328218), (-24.840585086, -68.345949758), (-30.394739385, -64.064839156), (-32.998609007, -61.680083928), (-37.761620342, -56.464319213), (-39.920617277, -53.633310877), (-43.690890371, -47.586553566), (-45.302087265, -44.370646153), (-47.870223233, -37.640179849), (-48.827104768, -34.12524618), (-49.978597119, -26.91435666), (-50.172989153, -23.218002666), (-49.813728375, -17.658491884), (-49.585534592, -15.803221116), (-49.071422005, -13.036209995), (-48.870846793, -12.115044492), (-48.414877231, -10.293400604), (-48.159605564, -9.392104476), (-47.316449698, -6.721187383), (-46.650942966, -4.984635667), (-45.143678718, -1.623776037), (-44.301508679, 0.000832802), (-43.392795008, 1.558582512)],
                knots=[0, 0, 0, 0, 0.03125, 0.03125, 0.0625, 0.0625, 0.09375, 0.09375, 0.125, 0.125, 0.15625, 0.15625, 0.1875, 0.1875, 0.21875, 0.21875, 0.25, 0.25, 0.28125, 0.28125, 0.3125, 0.3125, 0.34375, 0.34375, 0.375, 0.375, 0.4375, 0.4375, 0.5, 0.5, 0.5625, 0.5625, 0.625, 0.625, 0.65625, 0.65625, 0.671875, 0.671875, 0.67578125, 0.67578125, 0.6796875, 0.6796875, 0.68359375, 0.68359375, 0.685546875, 0.685546875, 0.6875, 0.6875, 0.688476562, 0.688476562, 0.689453125, 0.689453125, 0.69140625, 0.69140625, 0.691894531, 0.691894531, 0.692382812, 0.692382812, 0.693359375, 0.693359375, 0.6953125, 0.6953125, 0.696289062, 0.696289062, 0.696777344, 0.696777344, 0.697265625, 0.697265625, 0.69921875, 0.69921875, 0.700195312, 0.700195312, 0.700683594, 0.700683594, 0.701171875, 0.701171875, 0.703125, 0.705078125, 0.705078125, 0.706054687, 0.706054687, 0.70703125, 0.708984375, 0.708984375, 0.7109375, 0.7109375, 0.71484375, 0.71484375, 0.71875, 0.71875, 0.734375, 0.734375, 0.75, 0.75, 0.78125, 0.78125, 0.8125, 0.8125, 0.84375, 0.84375, 0.875, 0.875, 0.90625, 0.90625, 0.9375, 0.9375, 0.953125, 0.953125, 0.9609375, 0.9609375, 0.96875, 0.96875, 0.984375, 0.984375, 1, 1, 1, 1], degree=3))
            ThreePointArc((-43.392795008, 1.558582512), (-41.917264231, 3.843316747), (-40.240877686, 5.985028621))
        make_face()
    extrude(amount=BOSS_EXTRUDE2_DEPTH, both=True)

    # Sketch7 → Boss-Extrude3 (add, symmetric)
    with BuildSketch(Plane.XY):
        Circle(SKETCH7_R)
        Circle(SKETCH7_R_2, mode=Mode.SUBTRACT)
    extrude(amount=BOSS_EXTRUDE3_DEPTH, both=True)

    # Sketch8 → Cut-Extrude2 (cut, two sides)
    with BuildSketch(Plane.XY) as cut_extrude2_sk:
        with Locations((12.655385599, 42.167672501)):
            Circle(SKETCH8_R)
        Circle(SKETCH8_R_2)
        with BuildLine():
            Line((9.976048944, 32.474429955), (21.605937727, 37.576947657))
            ThreePointArc((21.605937727, 37.576947657), (24.899718531, 36.29203209), (23.614802964, 32.998251286))
            Line((23.614802964, 32.998251286), (11.984914181, 27.895733584))
            ThreePointArc((11.984914181, 27.895733584), (8.691133377, 29.180649151), (9.976048944, 32.474429955))
        make_face()
    extrude(amount=CUT_EXTRUDE2_DEPTH, mode=Mode.SUBTRACT)
    extrude(cut_extrude2_sk.sketch, amount=-CUT_EXTRUDE2_DEPTH_BACK, mode=Mode.SUBTRACT)

    # M4x0.7 Tapped Hole1 (through all)
    with Locations(Plane.XY.offset(1.5)):
        with Locations((-13.488047982, -5.9360377), (-25.003814781, -24.270826649), (-3.367538379, -25.076378767)):
            Hole(M4X0_7_TAPPED_HOLE1_D / 2)

    # M2 Clearance Hole1 (through all)
    with Locations(Plane(origin=(0, 0, -1.5), x_dir=(-1, 0, 0), z_dir=(0, 0, -1))):
        with Locations((7.233951111, 7.840674418), (3.173247673, -10.185122641), (-10.407198784, 2.344448223)):
            Hole(M2_CLEARANCE_HOLE1_D / 2)

    # Tap Drill for M2x0.4 Tap1 (through all)
    with Locations(Plane(origin=(-43.353129439, -41.45965752, 1.5), x_dir=(1, 0, 0), z_dir=(0, 0, 1))):
        with Locations((0, 0), (56.879316866, -32.741237457), (37.830109929, -10.787750205), (48.798026946, -3.133849965), (53.514213435, 22.356147679)):
            Hole(TAP_DRILL_FOR_M2X0_4_TAP1_D / 2)

    # Tap Drill for M2x0.4 Tap2 (through all)
    with Locations(Plane(origin=(-12.52460351, -41.04915847, 10.62), x_dir=(1, 0, 0), z_dir=(0, 0, 1))):
        with Locations((0, 0), (12.52460351, 1.23011277)):
            Hole(TAP_DRILL_FOR_M2X0_4_TAP2_D / 2)


solid = part.part
